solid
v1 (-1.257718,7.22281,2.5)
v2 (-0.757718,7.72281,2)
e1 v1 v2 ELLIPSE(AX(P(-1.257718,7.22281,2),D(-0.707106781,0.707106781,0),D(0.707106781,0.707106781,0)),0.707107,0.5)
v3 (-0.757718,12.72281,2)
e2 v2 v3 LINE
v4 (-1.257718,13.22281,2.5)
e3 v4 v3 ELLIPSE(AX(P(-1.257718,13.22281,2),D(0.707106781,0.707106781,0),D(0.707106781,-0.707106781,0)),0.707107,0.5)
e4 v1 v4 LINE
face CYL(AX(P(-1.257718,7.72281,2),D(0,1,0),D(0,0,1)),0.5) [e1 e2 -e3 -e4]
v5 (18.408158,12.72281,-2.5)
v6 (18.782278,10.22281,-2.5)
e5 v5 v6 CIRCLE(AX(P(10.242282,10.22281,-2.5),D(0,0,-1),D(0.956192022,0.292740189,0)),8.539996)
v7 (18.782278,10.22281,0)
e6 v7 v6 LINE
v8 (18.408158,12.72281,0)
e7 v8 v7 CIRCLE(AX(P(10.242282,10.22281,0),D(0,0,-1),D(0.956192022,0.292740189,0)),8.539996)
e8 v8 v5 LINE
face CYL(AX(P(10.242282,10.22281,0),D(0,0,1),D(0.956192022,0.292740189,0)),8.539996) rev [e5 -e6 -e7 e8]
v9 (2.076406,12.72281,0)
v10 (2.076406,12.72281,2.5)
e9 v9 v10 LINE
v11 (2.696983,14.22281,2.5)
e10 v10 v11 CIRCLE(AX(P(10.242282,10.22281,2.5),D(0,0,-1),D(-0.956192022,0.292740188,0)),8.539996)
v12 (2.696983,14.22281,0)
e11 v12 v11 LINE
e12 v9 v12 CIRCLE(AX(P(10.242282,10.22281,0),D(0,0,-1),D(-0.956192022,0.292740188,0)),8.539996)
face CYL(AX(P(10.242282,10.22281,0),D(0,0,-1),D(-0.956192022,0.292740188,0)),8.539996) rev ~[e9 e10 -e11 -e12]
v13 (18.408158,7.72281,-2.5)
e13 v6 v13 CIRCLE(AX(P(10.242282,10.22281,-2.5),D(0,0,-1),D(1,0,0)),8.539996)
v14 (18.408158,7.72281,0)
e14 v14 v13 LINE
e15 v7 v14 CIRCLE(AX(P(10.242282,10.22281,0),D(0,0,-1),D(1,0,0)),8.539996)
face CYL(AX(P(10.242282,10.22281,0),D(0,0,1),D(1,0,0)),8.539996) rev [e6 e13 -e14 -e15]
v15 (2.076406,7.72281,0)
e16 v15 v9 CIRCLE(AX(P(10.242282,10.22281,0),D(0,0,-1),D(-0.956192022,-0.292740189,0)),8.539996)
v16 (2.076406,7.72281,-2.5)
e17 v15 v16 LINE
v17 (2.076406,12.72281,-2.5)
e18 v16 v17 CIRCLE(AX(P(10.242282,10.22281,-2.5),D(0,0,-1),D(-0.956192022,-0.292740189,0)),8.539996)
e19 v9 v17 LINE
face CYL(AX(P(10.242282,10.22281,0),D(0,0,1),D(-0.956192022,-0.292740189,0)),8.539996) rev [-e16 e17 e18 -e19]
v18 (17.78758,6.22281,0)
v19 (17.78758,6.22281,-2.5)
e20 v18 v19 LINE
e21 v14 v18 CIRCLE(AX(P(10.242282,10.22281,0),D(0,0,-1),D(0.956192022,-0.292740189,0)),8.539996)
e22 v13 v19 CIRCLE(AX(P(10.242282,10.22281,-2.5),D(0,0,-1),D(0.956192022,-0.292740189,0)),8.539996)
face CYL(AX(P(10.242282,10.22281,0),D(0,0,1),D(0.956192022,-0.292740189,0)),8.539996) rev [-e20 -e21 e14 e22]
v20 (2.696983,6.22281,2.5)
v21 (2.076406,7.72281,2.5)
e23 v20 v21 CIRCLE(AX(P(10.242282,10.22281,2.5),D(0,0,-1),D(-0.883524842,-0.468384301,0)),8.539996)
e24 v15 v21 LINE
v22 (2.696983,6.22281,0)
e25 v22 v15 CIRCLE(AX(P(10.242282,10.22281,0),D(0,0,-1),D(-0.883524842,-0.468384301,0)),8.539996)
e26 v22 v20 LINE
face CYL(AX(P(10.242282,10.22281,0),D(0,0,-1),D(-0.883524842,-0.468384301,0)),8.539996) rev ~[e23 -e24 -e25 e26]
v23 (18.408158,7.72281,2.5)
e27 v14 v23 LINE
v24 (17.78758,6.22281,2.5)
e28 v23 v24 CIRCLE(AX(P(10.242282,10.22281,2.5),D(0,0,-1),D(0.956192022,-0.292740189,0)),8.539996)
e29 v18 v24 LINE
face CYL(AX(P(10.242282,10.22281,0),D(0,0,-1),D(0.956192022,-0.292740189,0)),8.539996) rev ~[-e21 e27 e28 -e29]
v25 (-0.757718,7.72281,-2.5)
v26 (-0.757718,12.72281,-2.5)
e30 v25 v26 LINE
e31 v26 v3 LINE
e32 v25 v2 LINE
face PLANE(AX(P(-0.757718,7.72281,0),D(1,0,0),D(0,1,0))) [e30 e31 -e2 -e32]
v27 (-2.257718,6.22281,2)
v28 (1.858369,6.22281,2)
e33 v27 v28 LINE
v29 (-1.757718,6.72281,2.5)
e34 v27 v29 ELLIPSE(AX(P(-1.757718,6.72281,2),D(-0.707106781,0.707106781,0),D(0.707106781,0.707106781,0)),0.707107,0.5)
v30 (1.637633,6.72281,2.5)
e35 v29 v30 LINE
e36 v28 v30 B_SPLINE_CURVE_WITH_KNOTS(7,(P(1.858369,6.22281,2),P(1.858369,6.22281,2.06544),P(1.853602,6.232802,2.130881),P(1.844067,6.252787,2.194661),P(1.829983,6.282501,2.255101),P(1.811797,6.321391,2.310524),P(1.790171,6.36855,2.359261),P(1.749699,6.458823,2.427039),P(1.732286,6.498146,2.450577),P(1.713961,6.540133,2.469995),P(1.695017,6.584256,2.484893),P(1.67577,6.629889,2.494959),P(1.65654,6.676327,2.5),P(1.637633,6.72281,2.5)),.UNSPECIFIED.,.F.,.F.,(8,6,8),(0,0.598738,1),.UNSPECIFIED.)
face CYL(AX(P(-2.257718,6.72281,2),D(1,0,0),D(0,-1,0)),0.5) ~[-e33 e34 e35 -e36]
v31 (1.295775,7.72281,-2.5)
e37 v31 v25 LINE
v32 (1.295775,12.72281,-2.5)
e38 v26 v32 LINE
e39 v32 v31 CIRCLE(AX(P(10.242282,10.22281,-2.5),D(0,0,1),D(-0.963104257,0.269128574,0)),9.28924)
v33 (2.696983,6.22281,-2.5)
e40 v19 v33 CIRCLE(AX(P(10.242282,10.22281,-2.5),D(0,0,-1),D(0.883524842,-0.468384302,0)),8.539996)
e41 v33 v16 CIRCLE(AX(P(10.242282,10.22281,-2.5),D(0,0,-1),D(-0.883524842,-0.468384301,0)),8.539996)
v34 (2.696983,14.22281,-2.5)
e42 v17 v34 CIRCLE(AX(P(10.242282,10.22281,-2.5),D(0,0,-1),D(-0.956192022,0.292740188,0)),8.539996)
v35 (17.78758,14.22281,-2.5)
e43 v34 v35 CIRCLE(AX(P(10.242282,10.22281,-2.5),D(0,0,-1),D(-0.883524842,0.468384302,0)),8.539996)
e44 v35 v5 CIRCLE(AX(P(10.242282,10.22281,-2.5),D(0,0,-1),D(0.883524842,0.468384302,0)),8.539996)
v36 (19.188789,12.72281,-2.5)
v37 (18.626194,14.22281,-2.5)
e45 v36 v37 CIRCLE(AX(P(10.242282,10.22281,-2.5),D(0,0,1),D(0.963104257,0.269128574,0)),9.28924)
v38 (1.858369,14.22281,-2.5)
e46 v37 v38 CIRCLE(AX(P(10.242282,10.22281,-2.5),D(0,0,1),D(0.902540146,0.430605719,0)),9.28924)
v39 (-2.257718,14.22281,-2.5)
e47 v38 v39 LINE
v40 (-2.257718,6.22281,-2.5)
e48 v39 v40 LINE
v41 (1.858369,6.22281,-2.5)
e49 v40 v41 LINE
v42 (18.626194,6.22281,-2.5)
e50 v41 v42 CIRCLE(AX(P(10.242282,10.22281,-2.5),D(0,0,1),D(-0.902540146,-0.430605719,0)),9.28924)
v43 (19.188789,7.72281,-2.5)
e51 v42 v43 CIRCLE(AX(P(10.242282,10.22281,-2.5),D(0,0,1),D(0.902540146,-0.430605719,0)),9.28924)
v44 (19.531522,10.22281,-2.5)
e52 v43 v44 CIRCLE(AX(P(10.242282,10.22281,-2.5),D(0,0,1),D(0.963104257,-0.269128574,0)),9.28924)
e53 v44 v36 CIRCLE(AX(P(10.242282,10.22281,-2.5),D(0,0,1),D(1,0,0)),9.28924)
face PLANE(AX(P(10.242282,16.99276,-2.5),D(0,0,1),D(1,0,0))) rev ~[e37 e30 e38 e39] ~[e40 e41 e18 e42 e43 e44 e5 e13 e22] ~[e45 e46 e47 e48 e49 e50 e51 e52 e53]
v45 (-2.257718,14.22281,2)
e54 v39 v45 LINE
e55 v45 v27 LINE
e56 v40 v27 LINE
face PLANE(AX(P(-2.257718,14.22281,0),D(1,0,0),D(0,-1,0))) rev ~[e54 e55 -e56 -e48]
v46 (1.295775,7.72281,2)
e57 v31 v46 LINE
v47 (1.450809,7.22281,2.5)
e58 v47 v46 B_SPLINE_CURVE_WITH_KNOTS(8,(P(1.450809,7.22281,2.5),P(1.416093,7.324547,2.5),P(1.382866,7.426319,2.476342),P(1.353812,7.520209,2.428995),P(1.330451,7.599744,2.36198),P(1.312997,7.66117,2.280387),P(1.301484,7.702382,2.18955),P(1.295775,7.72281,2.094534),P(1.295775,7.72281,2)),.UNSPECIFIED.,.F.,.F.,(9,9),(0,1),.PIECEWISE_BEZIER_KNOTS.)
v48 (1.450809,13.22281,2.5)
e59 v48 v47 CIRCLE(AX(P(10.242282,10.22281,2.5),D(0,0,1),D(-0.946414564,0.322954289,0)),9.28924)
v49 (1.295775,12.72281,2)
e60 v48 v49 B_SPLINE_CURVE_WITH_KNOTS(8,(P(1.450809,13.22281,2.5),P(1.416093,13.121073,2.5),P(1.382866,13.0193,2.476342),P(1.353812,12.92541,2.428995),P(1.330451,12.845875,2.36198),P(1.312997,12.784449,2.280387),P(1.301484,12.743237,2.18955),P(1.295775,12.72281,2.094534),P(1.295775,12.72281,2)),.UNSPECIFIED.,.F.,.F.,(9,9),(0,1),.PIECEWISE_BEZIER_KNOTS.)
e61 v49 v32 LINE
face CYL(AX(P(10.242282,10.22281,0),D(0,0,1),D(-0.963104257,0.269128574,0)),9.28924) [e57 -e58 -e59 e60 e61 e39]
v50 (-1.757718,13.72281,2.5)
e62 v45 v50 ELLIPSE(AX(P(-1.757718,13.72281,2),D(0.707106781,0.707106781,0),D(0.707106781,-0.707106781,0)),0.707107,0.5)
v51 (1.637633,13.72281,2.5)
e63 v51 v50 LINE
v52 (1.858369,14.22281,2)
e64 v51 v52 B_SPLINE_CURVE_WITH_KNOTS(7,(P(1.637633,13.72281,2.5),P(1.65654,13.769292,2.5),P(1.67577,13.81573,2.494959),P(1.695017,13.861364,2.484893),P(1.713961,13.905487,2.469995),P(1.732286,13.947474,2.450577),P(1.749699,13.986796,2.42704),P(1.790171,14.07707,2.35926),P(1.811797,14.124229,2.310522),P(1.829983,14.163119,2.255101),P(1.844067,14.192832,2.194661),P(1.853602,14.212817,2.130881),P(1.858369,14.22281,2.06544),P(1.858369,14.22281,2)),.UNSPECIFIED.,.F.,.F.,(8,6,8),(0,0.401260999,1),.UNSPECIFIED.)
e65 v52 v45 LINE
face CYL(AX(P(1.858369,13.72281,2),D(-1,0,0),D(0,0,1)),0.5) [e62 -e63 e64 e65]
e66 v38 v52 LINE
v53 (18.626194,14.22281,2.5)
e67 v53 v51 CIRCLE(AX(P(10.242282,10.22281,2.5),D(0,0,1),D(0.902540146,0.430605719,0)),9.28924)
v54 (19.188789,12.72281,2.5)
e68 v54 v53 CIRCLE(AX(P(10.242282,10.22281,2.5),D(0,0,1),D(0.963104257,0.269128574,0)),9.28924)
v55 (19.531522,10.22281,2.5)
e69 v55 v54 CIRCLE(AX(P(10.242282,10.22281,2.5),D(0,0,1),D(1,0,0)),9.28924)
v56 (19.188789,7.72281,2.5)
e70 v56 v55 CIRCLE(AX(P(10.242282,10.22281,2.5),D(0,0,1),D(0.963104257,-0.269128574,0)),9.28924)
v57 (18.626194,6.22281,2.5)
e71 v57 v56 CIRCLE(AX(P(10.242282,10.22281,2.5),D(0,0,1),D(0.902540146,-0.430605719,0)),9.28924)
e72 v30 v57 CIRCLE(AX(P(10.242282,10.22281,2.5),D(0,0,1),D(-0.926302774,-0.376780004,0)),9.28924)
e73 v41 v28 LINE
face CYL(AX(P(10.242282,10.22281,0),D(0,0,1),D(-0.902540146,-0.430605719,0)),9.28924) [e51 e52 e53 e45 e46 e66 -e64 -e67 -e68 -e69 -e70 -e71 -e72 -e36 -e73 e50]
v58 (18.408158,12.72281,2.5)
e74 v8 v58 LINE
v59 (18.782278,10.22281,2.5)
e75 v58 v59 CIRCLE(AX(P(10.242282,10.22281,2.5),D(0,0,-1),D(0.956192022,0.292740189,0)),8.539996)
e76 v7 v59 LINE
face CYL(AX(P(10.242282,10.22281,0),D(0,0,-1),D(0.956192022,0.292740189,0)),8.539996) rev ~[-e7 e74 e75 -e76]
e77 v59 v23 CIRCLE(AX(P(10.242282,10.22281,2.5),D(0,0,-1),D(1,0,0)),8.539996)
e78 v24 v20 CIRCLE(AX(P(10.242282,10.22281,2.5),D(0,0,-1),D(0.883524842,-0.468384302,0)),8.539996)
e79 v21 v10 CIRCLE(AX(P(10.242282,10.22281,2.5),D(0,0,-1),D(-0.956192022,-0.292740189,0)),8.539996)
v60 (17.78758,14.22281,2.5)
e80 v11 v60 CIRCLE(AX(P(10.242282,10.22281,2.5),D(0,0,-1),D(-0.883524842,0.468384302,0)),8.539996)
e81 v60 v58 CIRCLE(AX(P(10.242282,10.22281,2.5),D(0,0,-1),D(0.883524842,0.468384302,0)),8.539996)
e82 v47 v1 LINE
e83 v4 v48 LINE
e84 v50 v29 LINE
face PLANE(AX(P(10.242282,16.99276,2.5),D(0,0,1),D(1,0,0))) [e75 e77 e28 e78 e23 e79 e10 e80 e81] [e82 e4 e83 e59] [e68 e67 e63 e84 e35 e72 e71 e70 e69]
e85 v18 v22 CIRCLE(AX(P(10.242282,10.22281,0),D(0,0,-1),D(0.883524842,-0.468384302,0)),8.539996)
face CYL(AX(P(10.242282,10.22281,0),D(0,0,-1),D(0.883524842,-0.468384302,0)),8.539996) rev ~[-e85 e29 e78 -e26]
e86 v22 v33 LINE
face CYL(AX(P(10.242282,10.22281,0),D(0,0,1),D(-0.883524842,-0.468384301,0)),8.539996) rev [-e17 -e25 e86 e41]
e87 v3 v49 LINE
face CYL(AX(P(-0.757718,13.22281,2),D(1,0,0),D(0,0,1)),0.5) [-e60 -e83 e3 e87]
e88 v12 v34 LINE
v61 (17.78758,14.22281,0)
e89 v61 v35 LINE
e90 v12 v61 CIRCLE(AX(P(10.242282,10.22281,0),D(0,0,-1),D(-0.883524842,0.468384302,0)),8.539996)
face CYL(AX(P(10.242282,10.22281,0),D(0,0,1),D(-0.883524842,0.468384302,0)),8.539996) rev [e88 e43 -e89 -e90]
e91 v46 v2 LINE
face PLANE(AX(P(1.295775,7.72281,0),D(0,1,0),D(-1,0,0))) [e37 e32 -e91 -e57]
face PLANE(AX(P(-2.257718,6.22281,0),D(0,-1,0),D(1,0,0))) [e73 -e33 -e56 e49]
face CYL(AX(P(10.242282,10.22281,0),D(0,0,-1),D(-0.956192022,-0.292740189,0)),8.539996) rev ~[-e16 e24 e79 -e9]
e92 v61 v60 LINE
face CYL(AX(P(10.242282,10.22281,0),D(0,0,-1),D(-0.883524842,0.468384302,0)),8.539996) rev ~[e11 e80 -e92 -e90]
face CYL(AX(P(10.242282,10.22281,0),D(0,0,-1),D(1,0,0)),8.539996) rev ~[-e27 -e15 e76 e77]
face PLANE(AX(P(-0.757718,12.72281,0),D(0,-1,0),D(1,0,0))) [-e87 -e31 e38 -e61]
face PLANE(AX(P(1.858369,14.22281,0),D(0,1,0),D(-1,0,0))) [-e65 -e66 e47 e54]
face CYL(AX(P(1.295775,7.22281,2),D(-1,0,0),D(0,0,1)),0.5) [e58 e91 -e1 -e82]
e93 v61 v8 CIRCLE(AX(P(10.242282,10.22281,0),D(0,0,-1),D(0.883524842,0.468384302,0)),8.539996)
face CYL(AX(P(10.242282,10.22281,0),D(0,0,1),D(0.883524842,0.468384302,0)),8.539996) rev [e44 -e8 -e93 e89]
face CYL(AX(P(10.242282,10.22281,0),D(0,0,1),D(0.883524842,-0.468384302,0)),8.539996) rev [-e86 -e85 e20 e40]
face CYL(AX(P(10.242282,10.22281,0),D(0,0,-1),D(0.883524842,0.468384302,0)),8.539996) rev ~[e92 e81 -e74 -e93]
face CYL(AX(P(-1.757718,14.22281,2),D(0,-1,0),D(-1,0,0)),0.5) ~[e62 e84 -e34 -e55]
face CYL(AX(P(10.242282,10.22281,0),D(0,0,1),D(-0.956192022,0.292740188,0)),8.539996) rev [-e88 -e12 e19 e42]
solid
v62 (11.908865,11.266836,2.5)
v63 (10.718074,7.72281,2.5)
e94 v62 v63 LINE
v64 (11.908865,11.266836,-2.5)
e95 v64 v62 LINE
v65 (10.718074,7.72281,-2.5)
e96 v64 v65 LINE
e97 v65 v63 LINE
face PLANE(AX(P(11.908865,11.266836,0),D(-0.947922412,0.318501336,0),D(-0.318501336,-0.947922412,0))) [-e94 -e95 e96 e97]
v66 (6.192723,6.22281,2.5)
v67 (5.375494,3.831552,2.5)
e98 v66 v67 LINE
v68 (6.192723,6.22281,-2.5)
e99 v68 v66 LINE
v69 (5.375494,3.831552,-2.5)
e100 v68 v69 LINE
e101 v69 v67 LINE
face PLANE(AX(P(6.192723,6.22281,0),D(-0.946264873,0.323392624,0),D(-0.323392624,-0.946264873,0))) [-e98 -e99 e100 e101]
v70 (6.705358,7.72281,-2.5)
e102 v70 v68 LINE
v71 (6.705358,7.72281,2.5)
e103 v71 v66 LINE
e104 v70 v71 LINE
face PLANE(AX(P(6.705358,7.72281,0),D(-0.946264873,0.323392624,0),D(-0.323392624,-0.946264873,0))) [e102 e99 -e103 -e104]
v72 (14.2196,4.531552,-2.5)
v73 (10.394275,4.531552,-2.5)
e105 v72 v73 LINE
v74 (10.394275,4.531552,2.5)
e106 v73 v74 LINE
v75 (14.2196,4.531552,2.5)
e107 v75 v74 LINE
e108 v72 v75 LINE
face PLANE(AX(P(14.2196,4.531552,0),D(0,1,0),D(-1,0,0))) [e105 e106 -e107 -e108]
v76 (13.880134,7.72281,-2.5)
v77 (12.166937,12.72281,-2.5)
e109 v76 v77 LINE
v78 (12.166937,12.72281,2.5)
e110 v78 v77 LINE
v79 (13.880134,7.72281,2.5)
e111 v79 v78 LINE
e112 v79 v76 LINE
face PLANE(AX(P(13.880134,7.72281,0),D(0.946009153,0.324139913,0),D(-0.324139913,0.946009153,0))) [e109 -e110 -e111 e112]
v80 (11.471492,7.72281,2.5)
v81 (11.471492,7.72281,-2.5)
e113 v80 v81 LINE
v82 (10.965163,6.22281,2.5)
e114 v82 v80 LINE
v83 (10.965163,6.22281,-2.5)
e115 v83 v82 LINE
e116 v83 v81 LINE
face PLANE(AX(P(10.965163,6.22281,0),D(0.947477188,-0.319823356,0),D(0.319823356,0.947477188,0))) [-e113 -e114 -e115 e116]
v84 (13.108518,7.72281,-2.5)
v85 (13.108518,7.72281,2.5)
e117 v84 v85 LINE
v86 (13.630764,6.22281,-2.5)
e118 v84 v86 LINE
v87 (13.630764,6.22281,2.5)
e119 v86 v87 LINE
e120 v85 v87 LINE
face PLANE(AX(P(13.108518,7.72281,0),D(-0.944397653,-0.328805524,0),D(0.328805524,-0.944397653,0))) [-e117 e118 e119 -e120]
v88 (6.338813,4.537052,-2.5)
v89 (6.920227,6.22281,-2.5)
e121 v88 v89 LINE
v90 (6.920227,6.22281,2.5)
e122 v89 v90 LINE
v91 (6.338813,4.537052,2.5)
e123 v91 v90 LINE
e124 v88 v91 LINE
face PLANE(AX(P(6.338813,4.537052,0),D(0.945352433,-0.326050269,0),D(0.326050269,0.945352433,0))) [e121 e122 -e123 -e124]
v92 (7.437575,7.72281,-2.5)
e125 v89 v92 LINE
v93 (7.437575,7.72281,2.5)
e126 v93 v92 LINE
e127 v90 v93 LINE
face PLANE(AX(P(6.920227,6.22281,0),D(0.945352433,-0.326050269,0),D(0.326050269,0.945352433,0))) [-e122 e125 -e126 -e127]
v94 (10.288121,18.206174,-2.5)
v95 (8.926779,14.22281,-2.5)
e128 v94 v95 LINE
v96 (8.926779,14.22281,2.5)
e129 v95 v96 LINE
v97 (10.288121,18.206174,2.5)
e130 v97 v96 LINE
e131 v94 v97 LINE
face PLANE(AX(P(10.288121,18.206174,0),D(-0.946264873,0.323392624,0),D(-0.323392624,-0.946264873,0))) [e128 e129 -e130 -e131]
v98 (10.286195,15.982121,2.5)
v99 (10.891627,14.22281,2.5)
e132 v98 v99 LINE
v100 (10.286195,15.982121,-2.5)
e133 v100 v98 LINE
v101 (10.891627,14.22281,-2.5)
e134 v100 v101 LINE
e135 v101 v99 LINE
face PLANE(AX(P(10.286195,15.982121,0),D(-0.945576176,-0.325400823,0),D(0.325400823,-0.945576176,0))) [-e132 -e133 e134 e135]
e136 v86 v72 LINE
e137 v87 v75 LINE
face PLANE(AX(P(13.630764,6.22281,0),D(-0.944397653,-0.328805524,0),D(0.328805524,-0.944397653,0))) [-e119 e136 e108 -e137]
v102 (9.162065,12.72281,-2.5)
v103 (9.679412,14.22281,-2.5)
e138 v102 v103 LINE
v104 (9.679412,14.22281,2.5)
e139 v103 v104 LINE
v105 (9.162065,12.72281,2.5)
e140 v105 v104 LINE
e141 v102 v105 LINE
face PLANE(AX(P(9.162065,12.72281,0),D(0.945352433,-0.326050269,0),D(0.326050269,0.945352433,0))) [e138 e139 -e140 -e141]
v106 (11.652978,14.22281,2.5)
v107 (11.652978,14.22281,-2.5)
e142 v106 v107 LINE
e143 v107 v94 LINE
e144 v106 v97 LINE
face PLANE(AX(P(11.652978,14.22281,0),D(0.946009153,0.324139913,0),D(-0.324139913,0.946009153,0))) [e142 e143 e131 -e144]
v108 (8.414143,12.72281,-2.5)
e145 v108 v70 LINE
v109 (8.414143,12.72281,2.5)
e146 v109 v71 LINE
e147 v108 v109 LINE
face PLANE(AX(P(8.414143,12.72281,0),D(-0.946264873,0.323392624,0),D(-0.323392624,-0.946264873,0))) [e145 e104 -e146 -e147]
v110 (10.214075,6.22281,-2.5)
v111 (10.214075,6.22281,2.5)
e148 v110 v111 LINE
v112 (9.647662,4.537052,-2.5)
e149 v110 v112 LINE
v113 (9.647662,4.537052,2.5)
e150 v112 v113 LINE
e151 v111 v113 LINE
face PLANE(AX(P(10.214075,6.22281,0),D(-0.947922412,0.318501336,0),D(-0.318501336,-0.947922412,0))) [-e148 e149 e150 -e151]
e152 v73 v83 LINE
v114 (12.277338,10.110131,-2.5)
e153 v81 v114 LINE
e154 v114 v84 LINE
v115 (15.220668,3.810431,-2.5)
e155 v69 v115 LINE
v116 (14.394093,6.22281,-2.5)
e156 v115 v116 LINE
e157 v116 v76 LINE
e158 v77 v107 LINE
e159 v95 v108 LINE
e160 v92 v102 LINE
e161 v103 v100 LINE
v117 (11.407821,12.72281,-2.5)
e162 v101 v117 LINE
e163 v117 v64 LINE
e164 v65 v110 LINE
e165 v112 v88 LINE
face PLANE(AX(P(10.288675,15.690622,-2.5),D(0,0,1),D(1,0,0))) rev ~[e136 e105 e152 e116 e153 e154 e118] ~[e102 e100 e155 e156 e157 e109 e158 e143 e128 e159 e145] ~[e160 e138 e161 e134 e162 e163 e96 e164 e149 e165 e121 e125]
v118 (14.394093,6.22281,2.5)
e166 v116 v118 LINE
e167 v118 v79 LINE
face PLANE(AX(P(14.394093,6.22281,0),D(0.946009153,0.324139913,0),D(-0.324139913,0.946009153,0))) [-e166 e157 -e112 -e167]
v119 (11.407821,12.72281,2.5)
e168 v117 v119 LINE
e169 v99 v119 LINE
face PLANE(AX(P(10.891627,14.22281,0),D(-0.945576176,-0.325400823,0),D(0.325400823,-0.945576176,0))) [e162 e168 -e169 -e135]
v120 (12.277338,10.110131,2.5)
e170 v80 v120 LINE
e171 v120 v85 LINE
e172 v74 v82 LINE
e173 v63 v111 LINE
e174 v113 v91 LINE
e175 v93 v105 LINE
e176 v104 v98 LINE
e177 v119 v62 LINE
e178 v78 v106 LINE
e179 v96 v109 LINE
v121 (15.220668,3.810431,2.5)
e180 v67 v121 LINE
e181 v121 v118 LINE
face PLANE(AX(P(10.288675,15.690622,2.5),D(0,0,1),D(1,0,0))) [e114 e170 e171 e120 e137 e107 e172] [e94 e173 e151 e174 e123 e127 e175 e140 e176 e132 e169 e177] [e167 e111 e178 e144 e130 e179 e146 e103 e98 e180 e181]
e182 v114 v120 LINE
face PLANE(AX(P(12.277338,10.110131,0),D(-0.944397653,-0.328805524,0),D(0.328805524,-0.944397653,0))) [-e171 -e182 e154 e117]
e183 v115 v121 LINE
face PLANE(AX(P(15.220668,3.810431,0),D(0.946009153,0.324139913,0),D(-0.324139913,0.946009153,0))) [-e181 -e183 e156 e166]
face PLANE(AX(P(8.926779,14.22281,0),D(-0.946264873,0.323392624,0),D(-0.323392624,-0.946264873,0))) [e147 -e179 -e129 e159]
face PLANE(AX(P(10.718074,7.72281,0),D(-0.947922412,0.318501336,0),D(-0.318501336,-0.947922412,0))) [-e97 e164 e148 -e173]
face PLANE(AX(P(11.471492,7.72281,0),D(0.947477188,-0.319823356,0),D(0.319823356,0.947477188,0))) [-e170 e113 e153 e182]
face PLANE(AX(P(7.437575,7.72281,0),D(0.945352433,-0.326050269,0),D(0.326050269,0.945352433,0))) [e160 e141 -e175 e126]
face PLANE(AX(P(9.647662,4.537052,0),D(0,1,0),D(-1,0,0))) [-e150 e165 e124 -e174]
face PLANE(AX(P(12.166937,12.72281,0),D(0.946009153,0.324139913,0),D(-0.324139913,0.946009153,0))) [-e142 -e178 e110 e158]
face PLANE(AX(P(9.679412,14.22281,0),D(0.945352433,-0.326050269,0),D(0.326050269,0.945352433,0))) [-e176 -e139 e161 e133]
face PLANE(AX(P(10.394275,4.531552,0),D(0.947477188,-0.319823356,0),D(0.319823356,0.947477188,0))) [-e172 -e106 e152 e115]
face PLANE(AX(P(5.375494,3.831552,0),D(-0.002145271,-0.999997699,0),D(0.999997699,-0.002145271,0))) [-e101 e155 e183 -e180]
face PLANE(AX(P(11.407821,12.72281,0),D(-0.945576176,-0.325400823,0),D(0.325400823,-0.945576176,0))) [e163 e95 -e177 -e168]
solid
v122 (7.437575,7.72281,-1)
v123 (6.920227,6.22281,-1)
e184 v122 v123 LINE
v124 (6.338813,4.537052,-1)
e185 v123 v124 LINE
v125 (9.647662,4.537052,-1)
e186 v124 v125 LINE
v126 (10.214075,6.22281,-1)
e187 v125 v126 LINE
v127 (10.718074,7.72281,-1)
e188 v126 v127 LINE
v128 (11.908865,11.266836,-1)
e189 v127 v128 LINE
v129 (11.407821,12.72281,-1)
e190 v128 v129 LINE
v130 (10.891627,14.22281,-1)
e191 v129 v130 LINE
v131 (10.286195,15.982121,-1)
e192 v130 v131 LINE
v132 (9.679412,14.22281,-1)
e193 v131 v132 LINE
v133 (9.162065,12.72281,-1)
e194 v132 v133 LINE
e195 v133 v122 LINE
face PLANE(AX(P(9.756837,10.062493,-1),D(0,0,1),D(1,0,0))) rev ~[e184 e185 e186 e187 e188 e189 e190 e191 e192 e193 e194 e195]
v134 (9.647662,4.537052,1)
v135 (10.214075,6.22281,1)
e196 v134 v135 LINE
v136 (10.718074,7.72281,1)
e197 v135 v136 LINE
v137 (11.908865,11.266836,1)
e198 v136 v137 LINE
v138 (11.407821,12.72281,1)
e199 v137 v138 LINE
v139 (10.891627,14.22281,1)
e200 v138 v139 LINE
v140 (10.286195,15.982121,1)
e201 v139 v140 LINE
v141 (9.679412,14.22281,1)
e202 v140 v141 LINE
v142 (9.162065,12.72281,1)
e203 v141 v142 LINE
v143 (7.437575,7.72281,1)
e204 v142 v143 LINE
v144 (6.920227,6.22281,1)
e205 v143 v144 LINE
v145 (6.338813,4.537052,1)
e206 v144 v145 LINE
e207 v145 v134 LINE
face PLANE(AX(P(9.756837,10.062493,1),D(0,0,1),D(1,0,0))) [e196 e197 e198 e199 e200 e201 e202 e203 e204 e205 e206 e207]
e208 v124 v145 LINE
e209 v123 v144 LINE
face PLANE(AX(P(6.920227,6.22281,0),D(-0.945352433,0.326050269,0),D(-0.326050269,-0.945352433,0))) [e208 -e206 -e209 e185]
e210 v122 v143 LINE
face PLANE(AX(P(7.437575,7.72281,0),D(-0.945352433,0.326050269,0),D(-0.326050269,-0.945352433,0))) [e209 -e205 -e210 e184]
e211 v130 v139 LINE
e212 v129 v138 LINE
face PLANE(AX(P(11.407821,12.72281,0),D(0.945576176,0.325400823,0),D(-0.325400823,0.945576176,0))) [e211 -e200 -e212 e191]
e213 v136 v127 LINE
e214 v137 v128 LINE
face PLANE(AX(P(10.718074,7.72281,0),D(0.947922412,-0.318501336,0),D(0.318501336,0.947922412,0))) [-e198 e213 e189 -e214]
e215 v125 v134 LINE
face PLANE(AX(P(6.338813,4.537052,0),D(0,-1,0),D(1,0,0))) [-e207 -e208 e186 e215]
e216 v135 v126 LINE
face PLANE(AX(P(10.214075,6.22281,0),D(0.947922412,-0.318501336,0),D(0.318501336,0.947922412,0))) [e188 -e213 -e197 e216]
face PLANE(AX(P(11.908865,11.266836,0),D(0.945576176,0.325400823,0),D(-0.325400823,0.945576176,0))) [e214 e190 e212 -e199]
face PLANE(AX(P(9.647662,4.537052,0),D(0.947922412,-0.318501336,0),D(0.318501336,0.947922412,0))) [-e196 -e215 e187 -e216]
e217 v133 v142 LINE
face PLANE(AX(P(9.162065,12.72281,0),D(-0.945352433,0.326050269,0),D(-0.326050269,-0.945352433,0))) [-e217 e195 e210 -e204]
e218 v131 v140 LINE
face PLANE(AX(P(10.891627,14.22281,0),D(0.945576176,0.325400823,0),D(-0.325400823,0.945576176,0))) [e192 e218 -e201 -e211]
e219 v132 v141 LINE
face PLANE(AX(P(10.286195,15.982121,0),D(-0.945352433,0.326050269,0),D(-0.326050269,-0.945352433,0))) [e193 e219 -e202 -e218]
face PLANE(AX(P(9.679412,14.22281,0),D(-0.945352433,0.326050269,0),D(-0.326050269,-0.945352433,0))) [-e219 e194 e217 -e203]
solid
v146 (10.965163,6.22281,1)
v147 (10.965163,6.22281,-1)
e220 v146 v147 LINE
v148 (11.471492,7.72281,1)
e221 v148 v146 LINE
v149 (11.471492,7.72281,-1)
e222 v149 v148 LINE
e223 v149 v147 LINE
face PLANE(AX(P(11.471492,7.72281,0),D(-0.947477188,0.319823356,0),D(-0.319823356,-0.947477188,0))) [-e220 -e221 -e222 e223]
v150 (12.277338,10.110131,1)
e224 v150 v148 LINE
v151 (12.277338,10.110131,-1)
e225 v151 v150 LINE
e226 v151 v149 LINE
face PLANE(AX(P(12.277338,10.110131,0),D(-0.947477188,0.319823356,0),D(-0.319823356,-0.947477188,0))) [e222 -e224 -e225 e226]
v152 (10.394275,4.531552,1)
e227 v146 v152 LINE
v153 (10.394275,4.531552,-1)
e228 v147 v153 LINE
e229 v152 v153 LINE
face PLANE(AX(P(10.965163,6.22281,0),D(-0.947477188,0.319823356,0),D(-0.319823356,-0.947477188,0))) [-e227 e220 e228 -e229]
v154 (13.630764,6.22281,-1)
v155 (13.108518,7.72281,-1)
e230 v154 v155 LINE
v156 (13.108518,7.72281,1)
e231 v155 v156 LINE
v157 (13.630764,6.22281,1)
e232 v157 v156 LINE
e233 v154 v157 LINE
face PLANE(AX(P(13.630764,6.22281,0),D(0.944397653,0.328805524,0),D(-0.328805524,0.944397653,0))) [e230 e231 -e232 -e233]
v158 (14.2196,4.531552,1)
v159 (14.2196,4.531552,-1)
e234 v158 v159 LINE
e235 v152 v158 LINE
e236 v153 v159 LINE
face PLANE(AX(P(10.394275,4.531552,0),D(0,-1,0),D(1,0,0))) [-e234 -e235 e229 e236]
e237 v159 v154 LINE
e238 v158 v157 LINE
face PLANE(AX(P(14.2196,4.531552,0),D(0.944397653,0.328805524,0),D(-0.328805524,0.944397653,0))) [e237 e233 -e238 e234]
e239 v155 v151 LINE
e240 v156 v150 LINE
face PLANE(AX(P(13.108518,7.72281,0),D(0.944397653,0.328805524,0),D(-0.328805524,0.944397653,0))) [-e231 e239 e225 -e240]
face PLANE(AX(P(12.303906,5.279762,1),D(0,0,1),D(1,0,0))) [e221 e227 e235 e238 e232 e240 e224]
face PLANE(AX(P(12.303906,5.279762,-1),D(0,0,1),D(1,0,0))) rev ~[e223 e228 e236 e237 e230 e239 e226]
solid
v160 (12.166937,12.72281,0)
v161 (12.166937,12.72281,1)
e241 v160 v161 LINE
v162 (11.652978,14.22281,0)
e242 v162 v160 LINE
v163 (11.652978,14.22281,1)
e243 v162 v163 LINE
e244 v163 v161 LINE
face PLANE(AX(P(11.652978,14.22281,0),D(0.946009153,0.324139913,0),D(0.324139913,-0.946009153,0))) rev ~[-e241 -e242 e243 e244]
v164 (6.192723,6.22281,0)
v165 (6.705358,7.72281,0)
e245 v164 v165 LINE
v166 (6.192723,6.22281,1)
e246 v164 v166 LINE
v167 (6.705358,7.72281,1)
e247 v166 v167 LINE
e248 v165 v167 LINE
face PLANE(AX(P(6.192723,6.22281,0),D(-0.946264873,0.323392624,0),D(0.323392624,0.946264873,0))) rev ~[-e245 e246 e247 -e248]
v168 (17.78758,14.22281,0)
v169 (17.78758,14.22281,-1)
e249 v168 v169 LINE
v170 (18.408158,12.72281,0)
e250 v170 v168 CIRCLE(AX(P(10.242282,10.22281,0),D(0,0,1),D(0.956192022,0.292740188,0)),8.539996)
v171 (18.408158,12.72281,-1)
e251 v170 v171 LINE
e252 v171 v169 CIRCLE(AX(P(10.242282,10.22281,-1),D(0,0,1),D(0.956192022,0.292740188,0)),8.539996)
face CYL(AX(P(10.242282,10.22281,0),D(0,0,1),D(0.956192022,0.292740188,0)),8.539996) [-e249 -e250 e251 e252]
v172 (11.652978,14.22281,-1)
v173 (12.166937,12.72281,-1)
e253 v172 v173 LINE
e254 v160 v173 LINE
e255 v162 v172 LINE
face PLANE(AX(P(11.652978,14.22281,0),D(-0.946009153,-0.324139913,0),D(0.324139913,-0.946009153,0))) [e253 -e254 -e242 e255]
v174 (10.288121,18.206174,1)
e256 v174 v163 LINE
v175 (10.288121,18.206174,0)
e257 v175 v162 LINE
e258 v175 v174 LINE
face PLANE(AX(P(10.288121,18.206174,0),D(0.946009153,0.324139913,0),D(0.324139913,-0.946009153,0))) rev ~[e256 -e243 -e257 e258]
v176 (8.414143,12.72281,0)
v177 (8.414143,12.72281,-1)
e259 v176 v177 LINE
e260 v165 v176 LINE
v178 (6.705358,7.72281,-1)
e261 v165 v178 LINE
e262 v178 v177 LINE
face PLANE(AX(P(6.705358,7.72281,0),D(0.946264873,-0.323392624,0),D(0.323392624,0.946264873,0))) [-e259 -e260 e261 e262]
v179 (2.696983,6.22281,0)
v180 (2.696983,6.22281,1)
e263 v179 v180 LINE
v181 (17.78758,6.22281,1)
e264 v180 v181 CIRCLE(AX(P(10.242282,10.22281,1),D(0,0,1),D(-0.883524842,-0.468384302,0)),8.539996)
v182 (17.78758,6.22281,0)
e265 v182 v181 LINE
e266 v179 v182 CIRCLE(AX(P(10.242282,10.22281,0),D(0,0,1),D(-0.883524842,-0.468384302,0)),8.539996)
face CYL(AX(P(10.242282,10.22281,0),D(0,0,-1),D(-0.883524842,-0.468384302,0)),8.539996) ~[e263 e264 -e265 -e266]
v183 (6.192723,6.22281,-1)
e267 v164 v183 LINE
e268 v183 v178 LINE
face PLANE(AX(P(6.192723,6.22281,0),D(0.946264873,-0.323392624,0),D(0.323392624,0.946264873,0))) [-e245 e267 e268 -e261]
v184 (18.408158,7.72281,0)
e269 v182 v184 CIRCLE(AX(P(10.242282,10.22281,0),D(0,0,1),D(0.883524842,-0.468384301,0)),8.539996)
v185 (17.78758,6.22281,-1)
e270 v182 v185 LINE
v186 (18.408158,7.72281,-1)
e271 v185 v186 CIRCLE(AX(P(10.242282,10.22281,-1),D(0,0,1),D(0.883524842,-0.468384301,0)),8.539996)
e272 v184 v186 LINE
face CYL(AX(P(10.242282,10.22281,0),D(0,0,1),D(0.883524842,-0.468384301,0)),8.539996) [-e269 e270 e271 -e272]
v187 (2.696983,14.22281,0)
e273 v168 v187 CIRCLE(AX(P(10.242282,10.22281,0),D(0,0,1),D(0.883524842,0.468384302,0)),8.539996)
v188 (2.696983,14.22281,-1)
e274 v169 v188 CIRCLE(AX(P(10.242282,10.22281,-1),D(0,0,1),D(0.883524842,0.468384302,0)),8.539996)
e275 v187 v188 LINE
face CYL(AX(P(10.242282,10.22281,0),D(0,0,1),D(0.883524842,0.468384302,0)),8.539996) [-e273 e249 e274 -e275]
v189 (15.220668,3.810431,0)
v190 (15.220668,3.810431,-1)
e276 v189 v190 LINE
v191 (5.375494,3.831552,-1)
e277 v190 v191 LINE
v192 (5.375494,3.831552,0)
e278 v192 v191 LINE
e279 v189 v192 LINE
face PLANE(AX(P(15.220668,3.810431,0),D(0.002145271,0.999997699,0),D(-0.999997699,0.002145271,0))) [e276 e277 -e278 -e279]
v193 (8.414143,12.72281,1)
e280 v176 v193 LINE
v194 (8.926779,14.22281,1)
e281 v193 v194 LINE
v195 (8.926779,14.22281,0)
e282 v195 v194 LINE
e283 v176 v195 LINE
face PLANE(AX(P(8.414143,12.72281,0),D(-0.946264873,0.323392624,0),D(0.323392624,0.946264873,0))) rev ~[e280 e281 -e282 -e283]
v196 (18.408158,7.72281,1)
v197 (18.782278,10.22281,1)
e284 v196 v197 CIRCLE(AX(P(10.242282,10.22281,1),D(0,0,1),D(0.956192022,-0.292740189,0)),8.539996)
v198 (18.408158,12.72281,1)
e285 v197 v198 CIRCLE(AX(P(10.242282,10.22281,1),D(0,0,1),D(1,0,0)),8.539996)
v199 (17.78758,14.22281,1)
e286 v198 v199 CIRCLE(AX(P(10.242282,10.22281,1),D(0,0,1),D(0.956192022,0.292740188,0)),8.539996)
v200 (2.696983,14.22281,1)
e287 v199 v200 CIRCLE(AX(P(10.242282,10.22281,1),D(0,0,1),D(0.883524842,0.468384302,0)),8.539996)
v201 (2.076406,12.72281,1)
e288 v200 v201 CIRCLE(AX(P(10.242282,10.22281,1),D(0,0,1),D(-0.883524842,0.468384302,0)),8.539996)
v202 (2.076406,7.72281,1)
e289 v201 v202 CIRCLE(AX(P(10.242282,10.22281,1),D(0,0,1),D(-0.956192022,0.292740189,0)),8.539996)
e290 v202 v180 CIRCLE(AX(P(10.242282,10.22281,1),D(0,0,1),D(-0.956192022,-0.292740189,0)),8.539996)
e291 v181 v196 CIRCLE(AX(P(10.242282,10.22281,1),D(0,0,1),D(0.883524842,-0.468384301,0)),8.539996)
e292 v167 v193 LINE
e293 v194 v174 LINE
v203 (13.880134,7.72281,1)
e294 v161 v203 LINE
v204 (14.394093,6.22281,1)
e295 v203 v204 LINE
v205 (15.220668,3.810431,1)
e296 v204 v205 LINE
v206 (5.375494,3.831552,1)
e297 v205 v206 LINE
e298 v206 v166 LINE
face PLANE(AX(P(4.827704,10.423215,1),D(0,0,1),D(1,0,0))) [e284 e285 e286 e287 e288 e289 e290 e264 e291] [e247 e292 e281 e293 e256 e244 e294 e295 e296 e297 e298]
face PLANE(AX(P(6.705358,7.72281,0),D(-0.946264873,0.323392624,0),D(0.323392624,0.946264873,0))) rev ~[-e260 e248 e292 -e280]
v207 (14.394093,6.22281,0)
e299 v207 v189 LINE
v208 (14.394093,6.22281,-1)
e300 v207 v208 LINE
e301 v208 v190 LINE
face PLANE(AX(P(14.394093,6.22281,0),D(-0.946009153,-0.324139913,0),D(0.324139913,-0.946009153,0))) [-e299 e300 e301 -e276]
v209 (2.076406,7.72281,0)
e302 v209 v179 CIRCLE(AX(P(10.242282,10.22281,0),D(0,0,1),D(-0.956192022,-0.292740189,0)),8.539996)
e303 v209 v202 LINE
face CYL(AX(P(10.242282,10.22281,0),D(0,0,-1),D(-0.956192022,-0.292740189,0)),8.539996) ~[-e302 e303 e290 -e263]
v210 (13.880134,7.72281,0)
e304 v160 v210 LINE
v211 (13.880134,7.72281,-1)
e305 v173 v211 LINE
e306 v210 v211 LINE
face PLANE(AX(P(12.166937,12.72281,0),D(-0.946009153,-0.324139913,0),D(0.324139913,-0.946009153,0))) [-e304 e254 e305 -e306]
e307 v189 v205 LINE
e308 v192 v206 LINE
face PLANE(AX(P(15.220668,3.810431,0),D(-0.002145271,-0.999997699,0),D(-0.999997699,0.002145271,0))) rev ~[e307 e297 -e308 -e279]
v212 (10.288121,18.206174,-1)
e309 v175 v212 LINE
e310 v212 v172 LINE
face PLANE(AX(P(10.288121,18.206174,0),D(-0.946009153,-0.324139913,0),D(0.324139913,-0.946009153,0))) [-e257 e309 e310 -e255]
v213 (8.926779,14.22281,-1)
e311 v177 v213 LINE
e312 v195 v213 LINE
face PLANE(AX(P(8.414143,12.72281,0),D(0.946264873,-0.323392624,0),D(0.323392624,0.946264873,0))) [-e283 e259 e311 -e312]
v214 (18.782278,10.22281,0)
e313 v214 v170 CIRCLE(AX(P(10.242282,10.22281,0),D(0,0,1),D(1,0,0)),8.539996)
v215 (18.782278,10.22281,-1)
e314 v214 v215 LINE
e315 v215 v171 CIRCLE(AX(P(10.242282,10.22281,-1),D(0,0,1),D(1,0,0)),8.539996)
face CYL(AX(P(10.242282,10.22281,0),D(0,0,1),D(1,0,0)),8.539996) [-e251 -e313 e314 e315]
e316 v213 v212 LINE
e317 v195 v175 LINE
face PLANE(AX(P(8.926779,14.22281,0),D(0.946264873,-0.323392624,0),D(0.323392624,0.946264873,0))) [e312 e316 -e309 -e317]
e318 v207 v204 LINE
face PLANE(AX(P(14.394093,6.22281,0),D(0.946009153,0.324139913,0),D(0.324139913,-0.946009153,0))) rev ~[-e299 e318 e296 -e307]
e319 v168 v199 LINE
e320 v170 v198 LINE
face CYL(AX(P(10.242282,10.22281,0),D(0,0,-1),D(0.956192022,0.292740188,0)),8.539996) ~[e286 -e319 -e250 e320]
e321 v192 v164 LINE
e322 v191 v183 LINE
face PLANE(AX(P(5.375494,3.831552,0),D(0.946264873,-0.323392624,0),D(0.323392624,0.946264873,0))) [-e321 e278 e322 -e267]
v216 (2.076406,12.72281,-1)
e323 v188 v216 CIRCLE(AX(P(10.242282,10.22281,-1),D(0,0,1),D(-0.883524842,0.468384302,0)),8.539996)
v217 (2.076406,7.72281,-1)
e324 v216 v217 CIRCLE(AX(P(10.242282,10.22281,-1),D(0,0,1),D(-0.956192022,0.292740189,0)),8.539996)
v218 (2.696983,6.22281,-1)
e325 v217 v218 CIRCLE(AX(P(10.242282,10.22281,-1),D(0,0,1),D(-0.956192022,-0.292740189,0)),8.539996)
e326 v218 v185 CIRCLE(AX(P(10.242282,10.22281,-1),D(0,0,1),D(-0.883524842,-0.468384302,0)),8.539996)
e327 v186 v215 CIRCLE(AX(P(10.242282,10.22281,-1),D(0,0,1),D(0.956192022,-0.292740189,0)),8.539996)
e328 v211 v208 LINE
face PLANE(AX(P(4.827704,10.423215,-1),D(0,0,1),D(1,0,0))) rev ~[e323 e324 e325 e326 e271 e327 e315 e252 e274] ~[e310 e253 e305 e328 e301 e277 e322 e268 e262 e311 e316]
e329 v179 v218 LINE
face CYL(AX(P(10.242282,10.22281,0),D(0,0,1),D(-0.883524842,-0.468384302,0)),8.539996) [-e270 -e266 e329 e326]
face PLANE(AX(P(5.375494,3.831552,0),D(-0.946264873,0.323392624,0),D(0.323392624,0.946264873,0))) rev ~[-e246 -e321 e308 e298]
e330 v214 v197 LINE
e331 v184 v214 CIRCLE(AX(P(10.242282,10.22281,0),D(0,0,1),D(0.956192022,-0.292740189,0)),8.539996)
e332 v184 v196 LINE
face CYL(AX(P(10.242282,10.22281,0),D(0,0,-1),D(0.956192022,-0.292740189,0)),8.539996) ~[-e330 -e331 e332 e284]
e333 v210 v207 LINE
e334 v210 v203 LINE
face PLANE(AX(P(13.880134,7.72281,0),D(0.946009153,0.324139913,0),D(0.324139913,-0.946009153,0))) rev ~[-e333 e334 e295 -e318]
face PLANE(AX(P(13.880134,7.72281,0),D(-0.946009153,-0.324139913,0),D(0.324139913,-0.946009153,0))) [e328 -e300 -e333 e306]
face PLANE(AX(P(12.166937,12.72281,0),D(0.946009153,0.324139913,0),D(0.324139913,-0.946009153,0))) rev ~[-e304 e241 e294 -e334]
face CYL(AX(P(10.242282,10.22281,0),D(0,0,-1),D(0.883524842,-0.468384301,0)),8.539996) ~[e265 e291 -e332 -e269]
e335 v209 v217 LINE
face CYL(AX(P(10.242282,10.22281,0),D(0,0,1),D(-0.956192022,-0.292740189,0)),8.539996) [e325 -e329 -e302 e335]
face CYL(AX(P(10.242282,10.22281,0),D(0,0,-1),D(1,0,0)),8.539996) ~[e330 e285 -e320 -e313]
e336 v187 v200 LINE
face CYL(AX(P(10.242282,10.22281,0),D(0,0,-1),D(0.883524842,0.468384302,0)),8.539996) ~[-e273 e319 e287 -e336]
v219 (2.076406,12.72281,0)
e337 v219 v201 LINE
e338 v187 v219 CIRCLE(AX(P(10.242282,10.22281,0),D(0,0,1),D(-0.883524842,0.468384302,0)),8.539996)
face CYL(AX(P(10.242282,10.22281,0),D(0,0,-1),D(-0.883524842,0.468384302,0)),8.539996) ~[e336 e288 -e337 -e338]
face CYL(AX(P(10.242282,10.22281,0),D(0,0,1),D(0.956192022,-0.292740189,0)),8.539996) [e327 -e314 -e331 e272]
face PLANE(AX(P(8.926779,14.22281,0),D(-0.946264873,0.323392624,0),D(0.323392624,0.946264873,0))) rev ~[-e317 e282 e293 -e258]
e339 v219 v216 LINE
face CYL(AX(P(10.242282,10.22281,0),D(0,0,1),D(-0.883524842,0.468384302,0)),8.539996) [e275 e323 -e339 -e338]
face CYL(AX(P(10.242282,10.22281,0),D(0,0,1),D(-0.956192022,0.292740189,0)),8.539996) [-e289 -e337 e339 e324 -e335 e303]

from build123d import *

# Parameters (mm, degrees)
F1_DEPTH = 1
F2_DEPTH = 2.5
F3_R     = 0.5


with BuildPart() as f1:
    # F0 (on Top) → F1 (new body, symmetric)
    with BuildSketch(Plane.XY):
        with BuildLine():
            Line((8.4141432599, 12.7228097238), (2.0764058296, 12.7228097238))
            ThreePointArc((2.0764058296, 12.7228097238), (1.7022858745, 10.2228097238), (2.0764058296, 7.7228097238))
            Line((2.0764058296, 7.7228097238), (6.7053583671, 7.7228097238))
            Line((6.7053583671, 7.7228097238), (8.4141432599, 12.7228097238))
        make_face()
        with BuildLine():
            Line((8.9267787278, 14.2228097238), (2.6969832444, 14.2228097238))
            ThreePointArc((2.6969832444, 14.2228097238), (2.3509732108, 13.4875882894), (2.0764058296, 12.7228097238))
            Line((2.0764058296, 12.7228097238), (8.4141432599, 12.7228097238))
            Line((8.4141432599, 12.7228097238), (8.9267787278, 14.2228097238))
        make_face()
        with BuildLine():
            Line((11.65297826, 14.2228097238), (17.7875802403, 14.2228097238))
            ThreePointArc((17.7875802403, 14.2228097238), (10.2422817423, 18.7628055917), (2.6969832444, 14.2228097238))
            Line((2.6969832444, 14.2228097238), (8.9267787278, 14.2228097238))
            Line((8.9267787278, 14.2228097238), (10.2881211925, 18.2061737809))
            Line((10.2881211925, 18.2061737809), (11.65297826, 14.2228097238))
        make_face()
        with BuildLine():
            Line((12.1669372083, 12.7228097238), (18.4081576551, 12.7228097238))
            ThreePointArc((18.4081576551, 12.7228097238), (18.1335902739, 13.4875882894), (17.7875802403, 14.2228097238))
            Line((17.7875802403, 14.2228097238), (11.65297826, 14.2228097238))
            Line((11.65297826, 14.2228097238), (12.1669372083, 12.7228097238))
        make_face()
        with BuildLine():
            ThreePointArc((18.7822776102, 10.2228097238), (18.6882297642, 11.4867288016), (18.4081576551, 12.7228097238))
            Line((18.4081576551, 12.7228097238), (12.1669372083, 12.7228097238))
            Line((12.1669372083, 12.7228097238), (13.8801337026, 7.7228097238))
            Line((13.8801337026, 7.7228097238), (18.4081576551, 7.7228097238))
            ThreePointArc((18.4081576551, 7.7228097238), (18.6882297642, 8.958890646), (18.7822776102, 10.2228097238))
        make_face()
        with BuildLine():
            ThreePointArc((17.7875802403, 6.2228097238), (18.1335902739, 6.9580311583), (18.4081576551, 7.7228097238))
            Line((18.4081576551, 7.7228097238), (13.8801337026, 7.7228097238))
            Line((13.8801337026, 7.7228097238), (14.3940926509, 6.2228097238))
            Line((14.3940926509, 6.2228097238), (17.7875802403, 6.2228097238))
        make_face()
        with BuildLine():
            ThreePointArc((2.6969832444, 6.2228097238), (10.2422817423, 1.682813856), (17.7875802403, 6.2228097238))
            Line((17.7875802403, 6.2228097238), (14.3940926509, 6.2228097238))
            Line((14.3940926509, 6.2228097238), (15.2206683008, 3.8104313053))
            Line((15.2206683008, 3.8104313053), (5.3754938564, 3.8315519175))
            Line((5.3754938564, 3.8315519175), (6.1927228993, 6.2228097238))
            Line((6.1927228993, 6.2228097238), (2.6969832444, 6.2228097238))
        make_face()
        with BuildLine():
            ThreePointArc((2.0764058296, 7.7228097238), (2.3509732108, 6.9580311583), (2.6969832444, 6.2228097238))
            Line((2.6969832444, 6.2228097238), (6.1927228993, 6.2228097238))
            Line((6.1927228993, 6.2228097238), (6.7053583671, 7.7228097238))
            Line((6.7053583671, 7.7228097238), (2.0764058296, 7.7228097238))
        make_face()
    extrude(amount=F1_DEPTH, both=True)


with BuildPart() as f1b:
    # F0 (on Top) → F1, piece 2 (new body, symmetric)
    with BuildSketch(Plane.XY):
        Polygon((14.2196000911, 4.5315517514), (13.6307644857, 6.2228097238), (10.9651630463, 6.2228097238), (10.3942745785, 4.5315517514), align=None)
        Polygon((13.6307644857, 6.2228097238), (13.1085180736, 7.7228097238), (11.4714918947, 7.7228097238), (10.9651630463, 6.2228097238), align=None)
        Polygon((11.4714918947, 7.7228097238), (13.1085180736, 7.7228097238), (12.2773382064, 10.1101306739), align=None)
    extrude(amount=F1_DEPTH, both=True)


with BuildPart() as f1c:
    # F0 (on Top) → F1, piece 3 (new body, symmetric)
    with BuildSketch(Plane.XY):
        Polygon((11.9088649996, 11.2668357464), (11.4078211469, 12.7228097238), (9.1620651055, 12.7228097238), (7.4375745487, 7.7228097238), (10.718074478, 7.7228097238), align=None)
        Polygon((10.2140754185, 6.2228097238), (10.718074478, 7.7228097238), (7.4375745487, 7.7228097238), (6.9202273817, 6.2228097238), align=None)
        Polygon((10.2140754185, 6.2228097238), (6.9202273817, 6.2228097238), (6.3388128989, 4.5370524997), (9.6476620481, 4.5370524997), align=None)
        Polygon((9.1620651055, 12.7228097238), (11.4078211469, 12.7228097238), (10.8916266333, 14.2228097238), (9.6794122725, 14.2228097238), align=None)
        Polygon((9.6794122725, 14.2228097238), (10.8916266333, 14.2228097238), (10.2861954117, 15.9821210079), align=None)
    extrude(amount=F1_DEPTH, both=True)


with BuildPart() as f2:
    # F0 (on Top) → F2 (new body, symmetric)
    with BuildSketch(Plane.XY):
        with BuildLine():
            Line((17.7875802403, 14.2228097238), (18.6261940454, 14.2228097238))
            ThreePointArc((18.6261940454, 14.2228097238), (10.2422817423, 19.5120500321), (1.8583694393, 14.2228097238))
            Line((1.8583694393, 14.2228097238), (2.6969832444, 14.2228097238))
            ThreePointArc((2.6969832444, 14.2228097238), (10.2422817423, 18.7628055917), (17.7875802403, 14.2228097238))
        make_face()
        with BuildLine():
            Line((2.0764058296, 12.7228097238), (1.2957748539, 12.7228097238))
            ThreePointArc((1.2957748539, 12.7228097238), (0.9530414341, 10.2228097238), (1.2957748539, 7.7228097238))
            Line((1.2957748539, 7.7228097238), (2.0764058296, 7.7228097238))
            ThreePointArc((2.0764058296, 7.7228097238), (1.7022858745, 10.2228097238), (2.0764058296, 12.7228097238))
        make_face()
        with BuildLine():
            Line((2.6969832444, 14.2228097238), (1.8583694393, 14.2228097238))
            ThreePointArc((1.8583694393, 14.2228097238), (1.5446753281, 13.4849605736), (1.2957748539, 12.7228097238))
            Line((1.2957748539, 12.7228097238), (2.0764058296, 12.7228097238))
            ThreePointArc((2.0764058296, 12.7228097238), (2.3509732108, 13.4875882894), (2.6969832444, 14.2228097238))
        make_face()
        with BuildLine():
            ThreePointArc((1.2957748539, 7.7228097238), (1.5446753281, 6.960658874), (1.8583694393, 6.2228097238))
            Line((1.8583694393, 6.2228097238), (2.6969832444, 6.2228097238))
            ThreePointArc((2.6969832444, 6.2228097238), (2.3509732108, 6.9580311583), (2.0764058296, 7.7228097238))
            Line((2.0764058296, 7.7228097238), (1.2957748539, 7.7228097238))
        make_face()
        with BuildLine():
            ThreePointArc((1.8583694393, 6.2228097238), (10.2422817423, 0.9335694156), (18.6261940454, 6.2228097238))
            Line((18.6261940454, 6.2228097238), (17.7875802403, 6.2228097238))
            ThreePointArc((17.7875802403, 6.2228097238), (10.2422817423, 1.682813856), (2.6969832444, 6.2228097238))
            Line((2.6969832444, 6.2228097238), (1.8583694393, 6.2228097238))
        make_face()
        with BuildLine():
            ThreePointArc((18.6261940454, 6.2228097238), (18.9398881566, 6.960658874), (19.1887886308, 7.7228097238))
            Line((19.1887886308, 7.7228097238), (18.4081576551, 7.7228097238))
            ThreePointArc((18.4081576551, 7.7228097238), (18.1335902739, 6.9580311583), (17.7875802403, 6.2228097238))
            Line((17.7875802403, 6.2228097238), (18.6261940454, 6.2228097238))
        make_face()
        with BuildLine():
            ThreePointArc((19.1887886308, 7.7228097238), (19.4454398392, 8.9611177847), (19.5315220506, 10.2228097238))
            ThreePointArc((19.5315220506, 10.2228097238), (19.4454398392, 11.484501663), (19.1887886308, 12.7228097238))
            Line((19.1887886308, 12.7228097238), (18.4081576551, 12.7228097238))
            ThreePointArc((18.4081576551, 12.7228097238), (18.6882297642, 11.4867288016), (18.7822776102, 10.2228097238))
            ThreePointArc((18.7822776102, 10.2228097238), (18.6882297642, 8.958890646), (18.4081576551, 7.7228097238))
            Line((18.4081576551, 7.7228097238), (19.1887886308, 7.7228097238))
        make_face()
        with BuildLine():
            Line((18.4081576551, 12.7228097238), (19.1887886308, 12.7228097238))
            ThreePointArc((19.1887886308, 12.7228097238), (18.9398881566, 13.4849605736), (18.6261940454, 14.2228097238))
            Line((18.6261940454, 14.2228097238), (17.7875802403, 14.2228097238))
            ThreePointArc((17.7875802403, 14.2228097238), (18.1335902739, 13.4875882894), (18.4081576551, 12.7228097238))
        make_face()
        with BuildLine():
            ThreePointArc((1.2957748539, 12.7228097238), (1.5446753281, 13.4849605736), (1.8583694393, 14.2228097238))
            Line((1.8583694393, 14.2228097238), (-2.2577182577, 14.2228097238))
            Line((-2.2577182577, 14.2228097238), (-2.2577182577, 6.2228097238))
            Line((-2.2577182577, 6.2228097238), (1.8583694393, 6.2228097238))
            ThreePointArc((1.8583694393, 6.2228097238), (1.5446753281, 6.960658874), (1.2957748539, 7.7228097238))
            Line((1.2957748539, 7.7228097238), (-0.7577182577, 7.7228097238))
            Line((-0.7577182577, 7.7228097238), (-0.7577182577, 12.7228097238))
            Line((-0.7577182577, 12.7228097238), (1.2957748539, 12.7228097238))
        make_face()
    extrude(amount=F2_DEPTH, both=True)

    # F3
    f3_edges = [f2.edges().sort_by_distance(p)[0] for p in [
        (0.269028, 12.72281, 2.5),
        (-0.757718, 10.22281, 2.5),
        (0.269028, 7.72281, 2.5),
        (-0.199674, 6.22281, 2.5),
        (-2.257718, 10.22281, 2.5),
        (-0.199674, 14.22281, 2.5),
    ]]
    fillet(f3_edges, radius=F3_R)


with BuildPart() as f2b:
    # F0 (on Top) → F2, piece 2 (new body, symmetric)
    with BuildSketch(Plane.XY):
        Polygon((10.8916266333, 14.2228097238), (11.65297826, 14.2228097238), (10.2881211925, 18.2061737809), (8.9267787278, 14.2228097238), (9.6794122725, 14.2228097238), (10.2861954117, 15.9821210079), align=None)
        Polygon((11.4078211469, 12.7228097238), (12.1669372083, 12.7228097238), (11.65297826, 14.2228097238), (10.8916266333, 14.2228097238), align=None)
        Polygon((9.6794122725, 14.2228097238), (8.9267787278, 14.2228097238), (8.4141432599, 12.7228097238), (9.1620651055, 12.7228097238), align=None)
        Polygon((7.4375745487, 7.7228097238), (9.1620651055, 12.7228097238), (8.4141432599, 12.7228097238), (6.7053583671, 7.7228097238), align=None)
        Polygon((13.8801337026, 7.7228097238), (12.1669372083, 12.7228097238), (11.4078211469, 12.7228097238), (11.9088649996, 11.2668357464), (10.718074478, 7.7228097238), (11.4714918947, 7.7228097238), (12.2773382064, 10.1101306739), (13.1085180736, 7.7228097238), align=None)
        Polygon((14.3940926509, 6.2228097238), (13.8801337026, 7.7228097238), (13.1085180736, 7.7228097238), (13.6307644857, 6.2228097238), align=None)
        Polygon((15.2206683008, 3.8104313053), (14.3940926509, 6.2228097238), (13.6307644857, 6.2228097238), (14.2196000911, 4.5315517514), (10.3942745785, 4.5315517514), (10.9651630463, 6.2228097238), (10.2140754185, 6.2228097238), (9.6476620481, 4.5370524997), (6.3388128989, 4.5370524997), (6.9202273817, 6.2228097238), (6.1927228993, 6.2228097238), (5.3754938564, 3.8315519175), align=None)
        Polygon((10.9651630463, 6.2228097238), (11.4714918947, 7.7228097238), (10.718074478, 7.7228097238), (10.2140754185, 6.2228097238), align=None)
        Polygon((6.7053583671, 7.7228097238), (6.1927228993, 6.2228097238), (6.9202273817, 6.2228097238), (7.4375745487, 7.7228097238), align=None)
    extrude(amount=F2_DEPTH, both=True)


solid = Compound([f1.part, f1b.part, f1c.part, f2.part, f2b.part])
